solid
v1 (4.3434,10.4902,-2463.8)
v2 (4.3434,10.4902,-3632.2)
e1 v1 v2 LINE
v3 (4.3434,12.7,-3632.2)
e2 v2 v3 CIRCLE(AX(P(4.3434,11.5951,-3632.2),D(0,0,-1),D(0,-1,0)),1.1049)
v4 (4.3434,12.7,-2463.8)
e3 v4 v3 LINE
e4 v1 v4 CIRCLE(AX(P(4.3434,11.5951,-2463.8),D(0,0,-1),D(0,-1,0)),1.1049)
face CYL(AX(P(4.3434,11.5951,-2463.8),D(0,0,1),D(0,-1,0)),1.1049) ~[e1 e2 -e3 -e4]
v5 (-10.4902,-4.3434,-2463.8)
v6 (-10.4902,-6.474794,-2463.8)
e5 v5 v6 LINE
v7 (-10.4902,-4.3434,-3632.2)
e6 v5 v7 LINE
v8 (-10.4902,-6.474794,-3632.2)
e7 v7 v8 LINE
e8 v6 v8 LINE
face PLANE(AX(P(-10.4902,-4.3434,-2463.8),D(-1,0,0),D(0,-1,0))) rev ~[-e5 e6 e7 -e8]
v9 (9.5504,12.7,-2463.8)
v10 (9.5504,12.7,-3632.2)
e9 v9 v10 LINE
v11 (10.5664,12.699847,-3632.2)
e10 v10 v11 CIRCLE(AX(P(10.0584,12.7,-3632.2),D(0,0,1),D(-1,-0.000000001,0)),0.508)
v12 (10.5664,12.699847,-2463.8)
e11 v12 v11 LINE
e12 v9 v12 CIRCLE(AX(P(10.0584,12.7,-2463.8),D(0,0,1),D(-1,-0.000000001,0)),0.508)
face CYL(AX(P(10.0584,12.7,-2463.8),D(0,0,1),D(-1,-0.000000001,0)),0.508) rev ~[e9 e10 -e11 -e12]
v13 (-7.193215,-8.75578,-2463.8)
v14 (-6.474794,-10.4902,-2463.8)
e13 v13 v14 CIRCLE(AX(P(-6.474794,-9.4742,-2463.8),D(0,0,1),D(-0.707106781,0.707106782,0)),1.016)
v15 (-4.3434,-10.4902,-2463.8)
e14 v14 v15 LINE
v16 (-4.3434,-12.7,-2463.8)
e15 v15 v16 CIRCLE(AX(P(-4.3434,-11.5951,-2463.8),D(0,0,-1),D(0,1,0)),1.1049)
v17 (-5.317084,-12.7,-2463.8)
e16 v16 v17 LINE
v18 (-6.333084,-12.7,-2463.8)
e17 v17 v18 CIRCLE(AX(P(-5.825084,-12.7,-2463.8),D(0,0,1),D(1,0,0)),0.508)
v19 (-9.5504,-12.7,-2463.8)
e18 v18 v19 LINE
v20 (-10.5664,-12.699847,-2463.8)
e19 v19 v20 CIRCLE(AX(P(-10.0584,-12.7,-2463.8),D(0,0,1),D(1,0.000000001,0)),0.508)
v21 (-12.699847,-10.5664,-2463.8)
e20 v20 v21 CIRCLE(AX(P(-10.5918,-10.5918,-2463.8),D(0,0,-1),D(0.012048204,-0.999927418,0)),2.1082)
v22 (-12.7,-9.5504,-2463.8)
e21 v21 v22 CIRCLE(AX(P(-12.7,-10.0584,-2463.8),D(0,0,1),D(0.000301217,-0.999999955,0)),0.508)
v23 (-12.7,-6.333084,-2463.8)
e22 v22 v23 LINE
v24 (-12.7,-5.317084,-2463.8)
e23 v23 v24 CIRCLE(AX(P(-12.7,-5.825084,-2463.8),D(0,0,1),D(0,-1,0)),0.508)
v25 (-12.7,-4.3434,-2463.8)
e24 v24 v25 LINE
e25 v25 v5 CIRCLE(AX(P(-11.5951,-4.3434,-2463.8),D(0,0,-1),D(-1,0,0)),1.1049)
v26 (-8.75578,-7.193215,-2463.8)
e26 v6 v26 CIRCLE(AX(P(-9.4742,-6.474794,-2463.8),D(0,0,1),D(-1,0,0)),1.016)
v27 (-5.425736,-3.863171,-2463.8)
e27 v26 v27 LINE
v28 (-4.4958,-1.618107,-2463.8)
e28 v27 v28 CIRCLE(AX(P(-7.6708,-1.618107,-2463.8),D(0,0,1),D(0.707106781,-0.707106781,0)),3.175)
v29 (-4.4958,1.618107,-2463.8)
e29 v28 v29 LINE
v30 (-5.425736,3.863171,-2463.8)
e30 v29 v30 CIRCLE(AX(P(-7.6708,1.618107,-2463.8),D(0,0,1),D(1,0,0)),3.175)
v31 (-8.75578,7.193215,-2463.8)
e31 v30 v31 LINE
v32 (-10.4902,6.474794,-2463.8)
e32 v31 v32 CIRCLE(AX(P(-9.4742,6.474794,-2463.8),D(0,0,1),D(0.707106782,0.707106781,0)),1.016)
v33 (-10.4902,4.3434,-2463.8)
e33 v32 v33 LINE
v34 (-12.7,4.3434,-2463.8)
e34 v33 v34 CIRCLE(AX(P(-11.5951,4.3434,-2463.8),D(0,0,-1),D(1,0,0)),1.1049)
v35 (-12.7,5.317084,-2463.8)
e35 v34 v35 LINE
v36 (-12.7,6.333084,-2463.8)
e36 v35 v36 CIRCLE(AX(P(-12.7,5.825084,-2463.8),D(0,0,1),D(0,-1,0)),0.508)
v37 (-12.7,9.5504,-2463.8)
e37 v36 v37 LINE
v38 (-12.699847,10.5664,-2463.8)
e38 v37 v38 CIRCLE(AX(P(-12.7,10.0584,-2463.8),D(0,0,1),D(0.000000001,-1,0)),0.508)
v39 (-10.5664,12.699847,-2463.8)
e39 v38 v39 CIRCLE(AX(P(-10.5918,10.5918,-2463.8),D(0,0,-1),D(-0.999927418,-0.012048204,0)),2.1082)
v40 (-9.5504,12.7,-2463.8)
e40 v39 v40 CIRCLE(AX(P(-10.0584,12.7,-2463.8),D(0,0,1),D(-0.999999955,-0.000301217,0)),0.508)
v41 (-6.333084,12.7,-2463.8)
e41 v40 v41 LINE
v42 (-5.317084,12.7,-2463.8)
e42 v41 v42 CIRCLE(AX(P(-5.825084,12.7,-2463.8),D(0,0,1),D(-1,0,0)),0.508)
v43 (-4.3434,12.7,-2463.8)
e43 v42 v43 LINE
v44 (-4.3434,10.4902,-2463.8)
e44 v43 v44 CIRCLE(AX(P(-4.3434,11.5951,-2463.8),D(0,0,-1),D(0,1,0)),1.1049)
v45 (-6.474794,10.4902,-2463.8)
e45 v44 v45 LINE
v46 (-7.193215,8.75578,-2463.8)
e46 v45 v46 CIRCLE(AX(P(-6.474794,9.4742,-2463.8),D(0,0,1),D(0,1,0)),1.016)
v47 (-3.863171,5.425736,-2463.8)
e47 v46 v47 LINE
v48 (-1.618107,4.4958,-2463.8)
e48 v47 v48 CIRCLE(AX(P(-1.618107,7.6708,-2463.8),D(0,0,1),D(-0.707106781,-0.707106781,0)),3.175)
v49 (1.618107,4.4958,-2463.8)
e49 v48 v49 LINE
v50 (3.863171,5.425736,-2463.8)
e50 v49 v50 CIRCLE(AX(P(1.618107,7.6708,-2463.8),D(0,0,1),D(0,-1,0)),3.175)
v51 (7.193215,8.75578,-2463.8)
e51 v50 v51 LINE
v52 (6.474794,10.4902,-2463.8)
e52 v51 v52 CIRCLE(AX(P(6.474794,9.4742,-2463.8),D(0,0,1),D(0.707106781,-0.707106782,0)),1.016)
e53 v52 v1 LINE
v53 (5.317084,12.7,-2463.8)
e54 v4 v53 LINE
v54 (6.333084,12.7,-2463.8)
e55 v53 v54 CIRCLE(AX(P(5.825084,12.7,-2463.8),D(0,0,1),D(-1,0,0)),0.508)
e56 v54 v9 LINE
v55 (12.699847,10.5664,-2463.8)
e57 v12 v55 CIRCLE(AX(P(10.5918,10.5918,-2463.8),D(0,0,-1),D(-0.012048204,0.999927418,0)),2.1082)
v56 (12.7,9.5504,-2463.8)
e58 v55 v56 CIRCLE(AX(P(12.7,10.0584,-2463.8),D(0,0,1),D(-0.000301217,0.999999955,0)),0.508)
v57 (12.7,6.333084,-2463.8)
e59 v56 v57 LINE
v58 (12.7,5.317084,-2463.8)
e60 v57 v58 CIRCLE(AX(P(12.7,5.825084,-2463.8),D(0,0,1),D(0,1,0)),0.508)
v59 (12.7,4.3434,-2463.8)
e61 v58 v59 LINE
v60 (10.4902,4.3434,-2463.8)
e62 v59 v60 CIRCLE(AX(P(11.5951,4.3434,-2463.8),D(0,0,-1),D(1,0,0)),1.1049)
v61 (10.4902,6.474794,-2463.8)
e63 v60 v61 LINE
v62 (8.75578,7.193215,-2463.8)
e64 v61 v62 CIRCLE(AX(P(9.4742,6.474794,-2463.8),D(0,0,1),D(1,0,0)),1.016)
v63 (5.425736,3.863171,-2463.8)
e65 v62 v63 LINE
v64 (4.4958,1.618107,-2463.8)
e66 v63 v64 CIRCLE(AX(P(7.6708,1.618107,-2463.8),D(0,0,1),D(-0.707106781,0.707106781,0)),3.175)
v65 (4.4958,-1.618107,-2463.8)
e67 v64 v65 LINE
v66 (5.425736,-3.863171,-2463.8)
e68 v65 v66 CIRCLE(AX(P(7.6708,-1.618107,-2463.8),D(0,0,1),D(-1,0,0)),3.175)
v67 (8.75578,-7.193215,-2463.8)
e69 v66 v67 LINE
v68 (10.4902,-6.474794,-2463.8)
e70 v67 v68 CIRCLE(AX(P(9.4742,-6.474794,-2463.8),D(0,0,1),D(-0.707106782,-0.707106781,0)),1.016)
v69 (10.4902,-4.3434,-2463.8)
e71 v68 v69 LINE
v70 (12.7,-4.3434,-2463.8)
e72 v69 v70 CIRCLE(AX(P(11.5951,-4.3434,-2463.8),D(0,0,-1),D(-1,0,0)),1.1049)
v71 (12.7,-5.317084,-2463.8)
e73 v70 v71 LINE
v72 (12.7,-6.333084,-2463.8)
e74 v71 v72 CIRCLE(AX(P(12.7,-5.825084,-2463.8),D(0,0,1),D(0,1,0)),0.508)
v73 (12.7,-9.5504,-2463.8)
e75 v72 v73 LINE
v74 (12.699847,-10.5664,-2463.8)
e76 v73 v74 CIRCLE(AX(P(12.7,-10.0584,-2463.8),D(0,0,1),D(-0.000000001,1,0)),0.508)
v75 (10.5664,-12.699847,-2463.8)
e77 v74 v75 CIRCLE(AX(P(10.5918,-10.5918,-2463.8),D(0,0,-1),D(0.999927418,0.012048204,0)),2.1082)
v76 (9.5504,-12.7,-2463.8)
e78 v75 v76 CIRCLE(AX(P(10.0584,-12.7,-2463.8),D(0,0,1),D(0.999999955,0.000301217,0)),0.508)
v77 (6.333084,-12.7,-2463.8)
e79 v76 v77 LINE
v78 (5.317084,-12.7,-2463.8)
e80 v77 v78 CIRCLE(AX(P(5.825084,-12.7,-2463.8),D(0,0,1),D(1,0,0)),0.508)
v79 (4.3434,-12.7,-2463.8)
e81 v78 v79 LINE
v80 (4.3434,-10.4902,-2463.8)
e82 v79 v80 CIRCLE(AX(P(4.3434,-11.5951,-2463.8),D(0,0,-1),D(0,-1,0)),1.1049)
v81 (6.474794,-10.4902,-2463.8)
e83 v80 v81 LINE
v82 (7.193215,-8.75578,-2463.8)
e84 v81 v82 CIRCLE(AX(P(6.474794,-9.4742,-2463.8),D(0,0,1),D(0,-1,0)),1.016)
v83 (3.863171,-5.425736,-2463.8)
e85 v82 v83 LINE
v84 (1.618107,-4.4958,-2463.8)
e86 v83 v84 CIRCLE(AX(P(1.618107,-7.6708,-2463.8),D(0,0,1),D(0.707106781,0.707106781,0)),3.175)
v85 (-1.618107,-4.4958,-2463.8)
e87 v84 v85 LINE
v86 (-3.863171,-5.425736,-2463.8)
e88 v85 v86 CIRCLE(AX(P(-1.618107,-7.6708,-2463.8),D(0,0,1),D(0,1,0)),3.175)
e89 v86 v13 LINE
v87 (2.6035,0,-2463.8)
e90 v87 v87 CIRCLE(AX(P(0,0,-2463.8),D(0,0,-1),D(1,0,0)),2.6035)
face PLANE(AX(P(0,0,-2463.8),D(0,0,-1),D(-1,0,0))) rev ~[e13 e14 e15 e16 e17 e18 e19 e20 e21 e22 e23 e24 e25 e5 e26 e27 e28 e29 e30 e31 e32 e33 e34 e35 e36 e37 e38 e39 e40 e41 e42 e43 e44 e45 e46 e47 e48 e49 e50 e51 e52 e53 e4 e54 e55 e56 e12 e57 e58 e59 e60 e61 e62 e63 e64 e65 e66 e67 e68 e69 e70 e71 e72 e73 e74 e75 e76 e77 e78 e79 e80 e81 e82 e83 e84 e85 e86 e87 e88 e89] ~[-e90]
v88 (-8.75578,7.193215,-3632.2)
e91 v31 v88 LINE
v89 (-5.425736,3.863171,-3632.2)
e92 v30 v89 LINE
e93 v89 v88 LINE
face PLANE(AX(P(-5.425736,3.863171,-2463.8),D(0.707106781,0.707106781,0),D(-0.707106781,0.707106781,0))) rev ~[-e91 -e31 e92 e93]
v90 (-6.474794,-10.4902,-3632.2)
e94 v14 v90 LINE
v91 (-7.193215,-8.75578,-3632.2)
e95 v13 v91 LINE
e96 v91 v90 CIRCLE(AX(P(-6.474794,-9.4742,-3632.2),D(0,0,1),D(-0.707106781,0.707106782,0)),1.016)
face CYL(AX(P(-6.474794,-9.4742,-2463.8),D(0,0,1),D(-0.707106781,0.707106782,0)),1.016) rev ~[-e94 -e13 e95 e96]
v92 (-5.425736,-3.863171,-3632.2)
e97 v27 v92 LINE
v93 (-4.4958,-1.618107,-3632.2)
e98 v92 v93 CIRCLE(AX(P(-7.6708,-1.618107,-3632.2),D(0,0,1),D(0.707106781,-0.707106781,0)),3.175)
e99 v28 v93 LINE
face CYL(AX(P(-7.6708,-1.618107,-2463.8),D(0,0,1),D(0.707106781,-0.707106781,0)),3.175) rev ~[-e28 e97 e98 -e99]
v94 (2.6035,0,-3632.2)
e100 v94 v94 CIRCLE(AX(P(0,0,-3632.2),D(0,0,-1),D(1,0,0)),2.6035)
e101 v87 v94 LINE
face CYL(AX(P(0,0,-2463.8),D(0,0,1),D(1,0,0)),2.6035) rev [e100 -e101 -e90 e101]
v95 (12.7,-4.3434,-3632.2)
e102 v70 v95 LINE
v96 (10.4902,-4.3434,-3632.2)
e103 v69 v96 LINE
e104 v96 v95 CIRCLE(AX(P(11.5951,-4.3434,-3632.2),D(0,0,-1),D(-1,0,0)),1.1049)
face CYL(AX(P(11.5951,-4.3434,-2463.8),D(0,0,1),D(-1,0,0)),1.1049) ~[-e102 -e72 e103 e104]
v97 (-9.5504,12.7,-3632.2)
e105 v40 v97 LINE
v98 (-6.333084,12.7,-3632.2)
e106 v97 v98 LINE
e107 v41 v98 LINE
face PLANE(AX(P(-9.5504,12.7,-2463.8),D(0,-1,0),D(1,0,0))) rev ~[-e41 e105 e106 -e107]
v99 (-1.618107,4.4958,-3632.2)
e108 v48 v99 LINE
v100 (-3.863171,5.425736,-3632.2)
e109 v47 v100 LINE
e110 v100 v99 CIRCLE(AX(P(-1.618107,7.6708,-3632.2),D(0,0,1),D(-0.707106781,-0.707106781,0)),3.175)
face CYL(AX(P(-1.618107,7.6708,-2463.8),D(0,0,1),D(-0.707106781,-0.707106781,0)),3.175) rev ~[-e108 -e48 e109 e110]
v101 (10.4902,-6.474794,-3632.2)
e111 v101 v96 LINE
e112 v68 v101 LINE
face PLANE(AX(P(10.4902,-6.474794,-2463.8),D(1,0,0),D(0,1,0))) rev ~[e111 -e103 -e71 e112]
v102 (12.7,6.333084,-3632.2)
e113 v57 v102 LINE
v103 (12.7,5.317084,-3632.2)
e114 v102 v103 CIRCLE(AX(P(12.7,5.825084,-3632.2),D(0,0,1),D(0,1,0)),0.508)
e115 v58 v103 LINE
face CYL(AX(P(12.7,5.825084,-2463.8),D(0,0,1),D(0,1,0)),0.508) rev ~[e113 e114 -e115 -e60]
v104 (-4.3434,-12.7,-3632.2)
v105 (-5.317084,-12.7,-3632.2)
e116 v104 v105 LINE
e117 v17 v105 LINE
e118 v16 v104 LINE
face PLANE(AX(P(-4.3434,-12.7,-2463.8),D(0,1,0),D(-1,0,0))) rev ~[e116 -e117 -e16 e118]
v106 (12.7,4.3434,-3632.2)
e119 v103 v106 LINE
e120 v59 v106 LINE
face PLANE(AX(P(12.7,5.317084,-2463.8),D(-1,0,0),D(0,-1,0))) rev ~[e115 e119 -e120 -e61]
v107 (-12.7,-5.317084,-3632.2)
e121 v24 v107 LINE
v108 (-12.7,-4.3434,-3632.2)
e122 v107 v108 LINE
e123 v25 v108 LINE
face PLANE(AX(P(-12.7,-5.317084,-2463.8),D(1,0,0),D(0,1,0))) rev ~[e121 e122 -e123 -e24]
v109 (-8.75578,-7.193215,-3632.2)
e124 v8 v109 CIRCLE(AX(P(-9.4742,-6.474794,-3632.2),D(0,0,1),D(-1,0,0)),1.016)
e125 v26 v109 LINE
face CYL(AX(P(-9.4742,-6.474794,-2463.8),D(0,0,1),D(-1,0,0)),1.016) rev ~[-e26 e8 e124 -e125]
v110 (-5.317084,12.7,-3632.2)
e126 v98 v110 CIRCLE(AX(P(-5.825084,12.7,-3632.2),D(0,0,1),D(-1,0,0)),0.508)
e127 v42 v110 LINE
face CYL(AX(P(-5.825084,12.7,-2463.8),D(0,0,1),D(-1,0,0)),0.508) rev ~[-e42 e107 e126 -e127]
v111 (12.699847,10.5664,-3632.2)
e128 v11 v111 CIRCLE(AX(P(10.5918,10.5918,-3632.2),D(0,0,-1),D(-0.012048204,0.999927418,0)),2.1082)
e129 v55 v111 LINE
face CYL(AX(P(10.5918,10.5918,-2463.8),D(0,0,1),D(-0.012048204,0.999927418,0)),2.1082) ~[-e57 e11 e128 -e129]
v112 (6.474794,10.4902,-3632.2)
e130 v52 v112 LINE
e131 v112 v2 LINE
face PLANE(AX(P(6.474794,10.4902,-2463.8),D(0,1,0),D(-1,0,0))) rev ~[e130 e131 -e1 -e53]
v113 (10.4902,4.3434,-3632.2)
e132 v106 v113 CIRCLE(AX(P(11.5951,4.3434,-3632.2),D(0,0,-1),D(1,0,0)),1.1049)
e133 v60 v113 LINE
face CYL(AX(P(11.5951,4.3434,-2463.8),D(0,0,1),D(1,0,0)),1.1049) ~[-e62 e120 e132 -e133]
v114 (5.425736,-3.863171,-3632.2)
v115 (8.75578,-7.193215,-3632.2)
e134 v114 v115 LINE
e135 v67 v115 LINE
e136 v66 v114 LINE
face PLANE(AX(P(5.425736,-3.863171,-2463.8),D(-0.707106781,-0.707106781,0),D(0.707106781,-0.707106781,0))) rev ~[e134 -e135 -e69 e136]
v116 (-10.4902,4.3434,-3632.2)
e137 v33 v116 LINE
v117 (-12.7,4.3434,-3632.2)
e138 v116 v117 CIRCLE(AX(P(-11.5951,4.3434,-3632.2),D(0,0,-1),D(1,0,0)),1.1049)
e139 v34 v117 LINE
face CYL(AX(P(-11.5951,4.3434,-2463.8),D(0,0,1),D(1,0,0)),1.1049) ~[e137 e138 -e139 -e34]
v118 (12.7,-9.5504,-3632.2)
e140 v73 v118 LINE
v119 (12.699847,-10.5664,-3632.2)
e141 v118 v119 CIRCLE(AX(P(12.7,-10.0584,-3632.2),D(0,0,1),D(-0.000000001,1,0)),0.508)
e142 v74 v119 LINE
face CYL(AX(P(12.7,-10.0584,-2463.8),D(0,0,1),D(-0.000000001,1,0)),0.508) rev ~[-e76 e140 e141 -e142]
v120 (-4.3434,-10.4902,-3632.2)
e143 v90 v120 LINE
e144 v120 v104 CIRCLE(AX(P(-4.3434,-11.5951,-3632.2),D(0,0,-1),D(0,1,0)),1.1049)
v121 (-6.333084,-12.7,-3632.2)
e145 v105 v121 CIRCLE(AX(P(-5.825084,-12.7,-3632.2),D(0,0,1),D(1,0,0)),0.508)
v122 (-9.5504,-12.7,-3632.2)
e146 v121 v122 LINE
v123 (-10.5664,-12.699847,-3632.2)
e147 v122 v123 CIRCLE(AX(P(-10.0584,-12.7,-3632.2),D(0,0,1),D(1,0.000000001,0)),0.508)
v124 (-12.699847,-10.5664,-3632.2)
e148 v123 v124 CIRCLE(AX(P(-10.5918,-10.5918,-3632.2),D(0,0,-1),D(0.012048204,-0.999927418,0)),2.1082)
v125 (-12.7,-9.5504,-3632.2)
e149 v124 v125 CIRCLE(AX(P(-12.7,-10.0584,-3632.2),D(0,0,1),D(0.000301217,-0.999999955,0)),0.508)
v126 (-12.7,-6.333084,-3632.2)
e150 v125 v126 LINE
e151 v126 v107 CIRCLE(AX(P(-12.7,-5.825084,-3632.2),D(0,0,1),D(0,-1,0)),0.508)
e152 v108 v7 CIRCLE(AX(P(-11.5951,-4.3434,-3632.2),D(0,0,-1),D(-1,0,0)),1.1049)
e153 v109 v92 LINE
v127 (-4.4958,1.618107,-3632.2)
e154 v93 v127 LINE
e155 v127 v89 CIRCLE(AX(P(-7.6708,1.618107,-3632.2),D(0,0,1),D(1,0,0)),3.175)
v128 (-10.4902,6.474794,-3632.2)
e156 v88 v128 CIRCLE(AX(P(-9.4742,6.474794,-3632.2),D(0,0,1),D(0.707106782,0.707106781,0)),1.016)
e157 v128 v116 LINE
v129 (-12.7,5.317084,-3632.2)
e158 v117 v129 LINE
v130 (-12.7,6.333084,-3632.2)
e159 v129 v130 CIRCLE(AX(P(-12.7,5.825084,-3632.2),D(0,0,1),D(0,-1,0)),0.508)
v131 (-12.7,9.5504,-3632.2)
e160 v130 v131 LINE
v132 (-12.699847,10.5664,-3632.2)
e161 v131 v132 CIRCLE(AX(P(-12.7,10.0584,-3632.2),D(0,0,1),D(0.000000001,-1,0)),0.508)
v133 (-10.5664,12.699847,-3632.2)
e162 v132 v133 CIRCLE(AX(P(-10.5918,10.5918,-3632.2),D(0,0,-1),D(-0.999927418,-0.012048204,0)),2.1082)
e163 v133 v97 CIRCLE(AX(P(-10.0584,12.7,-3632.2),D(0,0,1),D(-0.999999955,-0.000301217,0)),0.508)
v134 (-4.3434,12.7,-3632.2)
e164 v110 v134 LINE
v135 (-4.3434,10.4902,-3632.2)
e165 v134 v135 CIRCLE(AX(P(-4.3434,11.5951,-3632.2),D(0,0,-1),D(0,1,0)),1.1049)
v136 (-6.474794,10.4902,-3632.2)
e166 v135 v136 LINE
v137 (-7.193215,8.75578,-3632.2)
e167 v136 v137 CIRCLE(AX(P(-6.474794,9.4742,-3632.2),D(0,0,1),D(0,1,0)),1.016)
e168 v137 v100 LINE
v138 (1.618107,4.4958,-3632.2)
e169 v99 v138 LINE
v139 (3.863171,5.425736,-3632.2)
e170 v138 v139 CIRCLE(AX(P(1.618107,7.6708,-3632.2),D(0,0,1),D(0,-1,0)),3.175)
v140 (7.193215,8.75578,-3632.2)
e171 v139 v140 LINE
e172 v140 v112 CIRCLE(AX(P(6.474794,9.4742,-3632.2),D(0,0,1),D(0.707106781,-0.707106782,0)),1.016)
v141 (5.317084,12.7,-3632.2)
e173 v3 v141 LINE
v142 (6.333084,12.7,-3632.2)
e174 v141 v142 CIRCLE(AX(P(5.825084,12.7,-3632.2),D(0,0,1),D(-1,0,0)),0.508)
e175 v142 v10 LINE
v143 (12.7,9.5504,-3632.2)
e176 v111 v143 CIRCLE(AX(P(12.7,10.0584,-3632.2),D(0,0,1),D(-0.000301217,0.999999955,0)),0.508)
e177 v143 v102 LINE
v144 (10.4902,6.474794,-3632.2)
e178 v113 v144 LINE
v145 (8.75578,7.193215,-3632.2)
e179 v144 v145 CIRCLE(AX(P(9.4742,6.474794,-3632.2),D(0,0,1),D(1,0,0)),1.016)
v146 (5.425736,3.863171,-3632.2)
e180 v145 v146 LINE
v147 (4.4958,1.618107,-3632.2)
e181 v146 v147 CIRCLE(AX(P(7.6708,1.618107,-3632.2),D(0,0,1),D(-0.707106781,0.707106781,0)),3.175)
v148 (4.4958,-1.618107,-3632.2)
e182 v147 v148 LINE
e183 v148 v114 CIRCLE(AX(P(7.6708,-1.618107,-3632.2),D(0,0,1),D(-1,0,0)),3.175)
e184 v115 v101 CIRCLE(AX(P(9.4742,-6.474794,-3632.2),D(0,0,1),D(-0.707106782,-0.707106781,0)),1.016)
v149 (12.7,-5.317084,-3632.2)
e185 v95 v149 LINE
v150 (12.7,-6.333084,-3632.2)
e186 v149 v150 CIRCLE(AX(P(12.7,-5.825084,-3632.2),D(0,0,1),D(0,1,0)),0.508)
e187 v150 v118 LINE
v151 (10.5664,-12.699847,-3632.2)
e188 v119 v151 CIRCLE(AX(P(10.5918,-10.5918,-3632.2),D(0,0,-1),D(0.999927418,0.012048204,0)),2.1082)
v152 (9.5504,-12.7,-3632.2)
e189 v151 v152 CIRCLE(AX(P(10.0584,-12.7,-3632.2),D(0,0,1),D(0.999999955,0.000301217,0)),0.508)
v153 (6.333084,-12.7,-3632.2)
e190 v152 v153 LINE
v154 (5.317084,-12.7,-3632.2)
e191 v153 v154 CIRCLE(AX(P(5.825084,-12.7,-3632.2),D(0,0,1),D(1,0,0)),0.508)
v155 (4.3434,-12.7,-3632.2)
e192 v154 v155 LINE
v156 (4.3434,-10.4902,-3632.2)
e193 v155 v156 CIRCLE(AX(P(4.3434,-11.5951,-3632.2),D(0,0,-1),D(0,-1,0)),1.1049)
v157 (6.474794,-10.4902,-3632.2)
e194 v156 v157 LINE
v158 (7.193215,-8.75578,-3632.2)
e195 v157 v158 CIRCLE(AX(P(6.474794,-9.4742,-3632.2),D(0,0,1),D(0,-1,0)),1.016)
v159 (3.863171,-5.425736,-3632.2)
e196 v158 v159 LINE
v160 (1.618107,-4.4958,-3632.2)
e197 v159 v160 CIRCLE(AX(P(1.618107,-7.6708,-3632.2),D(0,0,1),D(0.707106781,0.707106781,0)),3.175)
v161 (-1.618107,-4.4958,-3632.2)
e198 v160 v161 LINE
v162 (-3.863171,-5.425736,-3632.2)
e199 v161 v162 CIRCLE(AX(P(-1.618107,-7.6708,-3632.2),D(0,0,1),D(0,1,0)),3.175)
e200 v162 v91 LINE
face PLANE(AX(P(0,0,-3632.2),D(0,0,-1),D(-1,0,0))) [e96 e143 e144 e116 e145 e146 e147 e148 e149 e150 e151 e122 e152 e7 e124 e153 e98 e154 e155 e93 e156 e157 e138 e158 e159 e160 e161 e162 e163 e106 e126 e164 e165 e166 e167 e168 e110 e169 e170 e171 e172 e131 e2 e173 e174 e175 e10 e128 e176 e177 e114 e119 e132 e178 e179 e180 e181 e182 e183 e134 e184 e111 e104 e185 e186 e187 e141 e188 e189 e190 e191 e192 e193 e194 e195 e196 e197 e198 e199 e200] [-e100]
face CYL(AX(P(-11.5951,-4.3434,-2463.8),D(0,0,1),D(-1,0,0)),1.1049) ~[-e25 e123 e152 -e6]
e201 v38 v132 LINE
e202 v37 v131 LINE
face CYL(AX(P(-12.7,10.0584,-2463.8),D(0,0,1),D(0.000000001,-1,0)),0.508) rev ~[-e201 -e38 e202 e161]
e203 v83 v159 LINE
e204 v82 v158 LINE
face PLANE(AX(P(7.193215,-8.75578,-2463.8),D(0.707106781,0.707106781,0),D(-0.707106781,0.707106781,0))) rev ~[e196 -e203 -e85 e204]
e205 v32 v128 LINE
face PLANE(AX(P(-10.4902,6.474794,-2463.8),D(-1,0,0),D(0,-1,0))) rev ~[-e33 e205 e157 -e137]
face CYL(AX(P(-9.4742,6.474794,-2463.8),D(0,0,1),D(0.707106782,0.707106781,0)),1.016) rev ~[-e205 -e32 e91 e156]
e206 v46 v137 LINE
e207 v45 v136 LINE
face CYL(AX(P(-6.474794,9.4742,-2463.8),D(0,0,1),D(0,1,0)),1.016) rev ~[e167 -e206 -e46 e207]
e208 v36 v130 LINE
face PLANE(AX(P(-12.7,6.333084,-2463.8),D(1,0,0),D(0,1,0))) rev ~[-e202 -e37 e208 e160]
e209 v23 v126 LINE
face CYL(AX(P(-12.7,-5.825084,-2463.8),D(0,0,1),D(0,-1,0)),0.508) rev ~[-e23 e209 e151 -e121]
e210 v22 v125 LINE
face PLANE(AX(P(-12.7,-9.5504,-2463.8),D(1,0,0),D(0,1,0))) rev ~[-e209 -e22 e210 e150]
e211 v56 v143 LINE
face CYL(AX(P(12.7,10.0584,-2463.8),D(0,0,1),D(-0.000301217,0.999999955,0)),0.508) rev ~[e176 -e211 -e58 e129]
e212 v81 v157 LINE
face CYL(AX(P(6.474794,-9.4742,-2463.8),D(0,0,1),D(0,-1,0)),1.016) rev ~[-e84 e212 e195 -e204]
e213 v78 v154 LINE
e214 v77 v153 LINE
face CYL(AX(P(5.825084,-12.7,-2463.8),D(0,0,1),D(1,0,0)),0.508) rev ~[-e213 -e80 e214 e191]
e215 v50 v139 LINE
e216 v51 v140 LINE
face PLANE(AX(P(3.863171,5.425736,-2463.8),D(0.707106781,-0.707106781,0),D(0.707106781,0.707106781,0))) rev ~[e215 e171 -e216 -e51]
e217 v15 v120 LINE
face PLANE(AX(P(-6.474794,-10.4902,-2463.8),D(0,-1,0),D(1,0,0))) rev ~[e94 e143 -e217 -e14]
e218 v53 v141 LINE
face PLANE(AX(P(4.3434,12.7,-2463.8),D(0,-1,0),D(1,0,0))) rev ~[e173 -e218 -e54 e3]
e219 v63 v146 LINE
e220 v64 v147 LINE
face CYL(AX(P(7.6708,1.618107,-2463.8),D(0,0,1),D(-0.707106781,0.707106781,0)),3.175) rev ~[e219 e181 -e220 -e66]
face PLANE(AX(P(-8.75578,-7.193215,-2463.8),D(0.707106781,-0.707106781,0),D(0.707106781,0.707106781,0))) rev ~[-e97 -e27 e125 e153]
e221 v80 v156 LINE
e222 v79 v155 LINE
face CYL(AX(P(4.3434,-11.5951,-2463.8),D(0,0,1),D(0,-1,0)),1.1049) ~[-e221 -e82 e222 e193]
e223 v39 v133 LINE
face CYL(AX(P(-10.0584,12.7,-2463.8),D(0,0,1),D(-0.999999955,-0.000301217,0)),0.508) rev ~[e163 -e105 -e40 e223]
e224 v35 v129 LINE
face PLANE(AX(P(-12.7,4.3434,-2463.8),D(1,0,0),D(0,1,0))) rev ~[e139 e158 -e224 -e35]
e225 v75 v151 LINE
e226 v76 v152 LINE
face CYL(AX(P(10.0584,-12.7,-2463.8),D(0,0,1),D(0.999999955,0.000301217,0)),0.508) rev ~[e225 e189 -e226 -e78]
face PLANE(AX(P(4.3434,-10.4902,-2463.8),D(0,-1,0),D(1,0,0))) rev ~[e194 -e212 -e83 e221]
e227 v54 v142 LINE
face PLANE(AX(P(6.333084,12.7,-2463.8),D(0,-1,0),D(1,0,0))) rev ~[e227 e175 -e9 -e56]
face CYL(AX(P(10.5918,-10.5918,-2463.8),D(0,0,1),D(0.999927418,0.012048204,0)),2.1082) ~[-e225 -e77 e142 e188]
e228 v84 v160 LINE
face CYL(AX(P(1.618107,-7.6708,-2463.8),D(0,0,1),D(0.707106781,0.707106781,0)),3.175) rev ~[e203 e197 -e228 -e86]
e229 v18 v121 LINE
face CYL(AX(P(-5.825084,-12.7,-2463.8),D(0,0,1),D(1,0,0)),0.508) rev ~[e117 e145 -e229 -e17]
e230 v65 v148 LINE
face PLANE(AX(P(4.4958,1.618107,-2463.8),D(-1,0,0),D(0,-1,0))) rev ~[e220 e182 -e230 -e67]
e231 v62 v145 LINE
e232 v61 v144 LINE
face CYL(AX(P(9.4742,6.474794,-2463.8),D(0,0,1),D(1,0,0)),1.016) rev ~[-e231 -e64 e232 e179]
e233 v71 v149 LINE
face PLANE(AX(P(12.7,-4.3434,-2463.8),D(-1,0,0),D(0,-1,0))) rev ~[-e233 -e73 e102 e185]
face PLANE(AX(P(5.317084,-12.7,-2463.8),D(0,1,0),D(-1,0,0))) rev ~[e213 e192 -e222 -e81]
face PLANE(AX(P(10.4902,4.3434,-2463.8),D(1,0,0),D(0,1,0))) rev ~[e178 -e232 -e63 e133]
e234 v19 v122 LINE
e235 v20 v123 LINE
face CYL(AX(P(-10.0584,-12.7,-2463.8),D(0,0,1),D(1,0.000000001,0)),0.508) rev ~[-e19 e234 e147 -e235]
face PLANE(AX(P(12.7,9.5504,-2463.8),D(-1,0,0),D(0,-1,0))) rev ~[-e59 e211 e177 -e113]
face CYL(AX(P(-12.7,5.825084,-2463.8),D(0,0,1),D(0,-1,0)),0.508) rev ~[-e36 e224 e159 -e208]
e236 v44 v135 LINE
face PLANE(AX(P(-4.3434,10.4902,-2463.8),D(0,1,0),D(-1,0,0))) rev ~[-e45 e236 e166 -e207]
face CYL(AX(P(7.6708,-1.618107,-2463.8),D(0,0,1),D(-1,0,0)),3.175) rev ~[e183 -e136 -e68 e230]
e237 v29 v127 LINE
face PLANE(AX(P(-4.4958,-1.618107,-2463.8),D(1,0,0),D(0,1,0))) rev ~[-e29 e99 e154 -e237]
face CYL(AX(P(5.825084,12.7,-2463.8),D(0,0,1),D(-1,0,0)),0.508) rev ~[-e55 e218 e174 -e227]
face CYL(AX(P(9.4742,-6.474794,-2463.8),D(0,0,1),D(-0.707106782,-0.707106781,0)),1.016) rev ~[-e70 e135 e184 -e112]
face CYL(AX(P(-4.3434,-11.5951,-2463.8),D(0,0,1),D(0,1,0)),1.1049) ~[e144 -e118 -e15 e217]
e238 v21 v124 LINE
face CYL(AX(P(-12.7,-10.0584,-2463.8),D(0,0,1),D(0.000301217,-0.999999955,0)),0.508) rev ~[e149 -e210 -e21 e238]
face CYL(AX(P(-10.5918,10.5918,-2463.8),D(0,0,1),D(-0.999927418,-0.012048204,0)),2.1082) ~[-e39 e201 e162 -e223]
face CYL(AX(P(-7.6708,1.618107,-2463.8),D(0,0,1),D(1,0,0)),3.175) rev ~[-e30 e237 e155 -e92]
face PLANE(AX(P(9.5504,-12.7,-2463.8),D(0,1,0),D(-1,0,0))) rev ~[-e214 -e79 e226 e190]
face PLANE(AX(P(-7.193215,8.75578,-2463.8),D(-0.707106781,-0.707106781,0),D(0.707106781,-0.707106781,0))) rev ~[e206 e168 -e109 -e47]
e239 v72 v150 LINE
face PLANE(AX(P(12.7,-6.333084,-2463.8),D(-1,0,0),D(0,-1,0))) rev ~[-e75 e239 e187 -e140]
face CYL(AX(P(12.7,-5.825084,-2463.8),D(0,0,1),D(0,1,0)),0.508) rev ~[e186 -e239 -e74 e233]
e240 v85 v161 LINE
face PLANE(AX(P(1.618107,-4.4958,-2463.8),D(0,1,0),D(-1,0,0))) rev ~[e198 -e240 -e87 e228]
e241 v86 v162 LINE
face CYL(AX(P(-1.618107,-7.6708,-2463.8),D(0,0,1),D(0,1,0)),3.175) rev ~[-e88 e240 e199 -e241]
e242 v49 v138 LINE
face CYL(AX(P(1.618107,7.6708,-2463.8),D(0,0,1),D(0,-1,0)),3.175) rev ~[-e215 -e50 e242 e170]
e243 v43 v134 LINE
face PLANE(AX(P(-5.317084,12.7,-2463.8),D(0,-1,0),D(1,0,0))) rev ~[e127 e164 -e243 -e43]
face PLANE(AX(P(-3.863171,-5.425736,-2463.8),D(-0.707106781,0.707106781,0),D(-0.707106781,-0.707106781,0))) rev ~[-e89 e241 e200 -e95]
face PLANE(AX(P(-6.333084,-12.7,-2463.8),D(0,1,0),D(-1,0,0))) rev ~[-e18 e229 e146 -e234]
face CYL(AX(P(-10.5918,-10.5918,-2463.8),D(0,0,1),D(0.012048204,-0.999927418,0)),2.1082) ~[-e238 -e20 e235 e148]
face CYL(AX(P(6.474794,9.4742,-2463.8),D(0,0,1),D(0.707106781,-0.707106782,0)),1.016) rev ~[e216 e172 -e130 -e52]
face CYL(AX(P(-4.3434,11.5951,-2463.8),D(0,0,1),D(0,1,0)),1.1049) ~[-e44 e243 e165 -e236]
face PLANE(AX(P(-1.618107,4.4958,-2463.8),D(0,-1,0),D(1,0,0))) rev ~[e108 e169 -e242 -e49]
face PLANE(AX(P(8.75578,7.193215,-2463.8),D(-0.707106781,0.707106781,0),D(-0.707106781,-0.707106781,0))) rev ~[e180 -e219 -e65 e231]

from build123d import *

# Parameters (mm, degrees)
SKETCH1_R           = 2.6035
BOSS_EXTRUDE1_DEPTH = 1168.4


with BuildPart() as part:
    # Sketch1 → Boss-Extrude1 (new body)
    with BuildSketch(Plane(origin=(0, 0, -2463.8), x_dir=(-1, 0, 0), z_dir=(0, 0, -1))):
        with BuildLine():
            Line((12.7, -9.5504), (12.7, -6.3330836))
            ThreePointArc((12.7, -6.3330836), (12.192, -5.8250836), (12.7, -5.3170836))
            Line((12.7, -5.3170836), (12.7, -4.3434))
            ThreePointArc((12.7, -4.3434), (11.5951, -3.2385), (10.4902, -4.3434))
            Line((10.4902, -4.3434), (10.4902, -6.474794456))
            ThreePointArc((10.4902, -6.474794456), (9.863006367, -7.413456061), (8.75577951, -7.193214945))
            Line((8.75577951, -7.193214945), (5.42573597, -3.863171405))
            ThreePointArc((5.42573597, -3.863171405), (4.737482484, -2.833127272), (4.4958, -1.618107374))
            Line((4.4958, -1.618107374), (4.4958, 1.618107374))
            ThreePointArc((4.4958, 1.618107374), (4.737482484, 2.833127272), (5.42573597, 3.863171405))
            Line((5.42573597, 3.863171405), (8.75577951, 7.193214945))
            ThreePointArc((8.75577951, 7.193214945), (9.863006367, 7.413456061), (10.4902, 6.474794456))
            Line((10.4902, 6.474794456), (10.4902, 4.343399971))
            ThreePointArc((10.4902, 4.343399971), (11.5951, 3.238499971), (12.7, 4.343399971))
            Line((12.7, 4.343399971), (12.7, 5.3170836))
            ThreePointArc((12.7, 5.3170836), (12.192, 5.8250836), (12.7, 6.3330836))
            Line((12.7, 6.3330836), (12.7, 9.5504))
            ThreePointArc((12.7, 9.5504), (12.192000006, 10.058323491), (12.699846982, 10.566399977))
            ThreePointArc((12.699846982, 10.566399977), (12.082522516, 12.082522516), (10.566399977, 12.699846982))
            ThreePointArc((10.566399977, 12.699846982), (10.058323491, 12.192000006), (9.5504, 12.7))
            Line((9.5504, 12.7), (6.3330836, 12.7))
            ThreePointArc((6.3330836, 12.7), (5.8250836, 12.192), (5.3170836, 12.7))
            Line((5.3170836, 12.7), (4.3434, 12.7))
            ThreePointArc((4.3434, 12.7), (3.2385, 11.5951), (4.3434, 10.4902))
            Line((4.3434, 10.4902), (6.474794456, 10.4902))
            ThreePointArc((6.474794456, 10.4902), (7.413456061, 9.863006367), (7.193214945, 8.75577951))
            Line((7.193214945, 8.75577951), (3.863171405, 5.42573597))
            ThreePointArc((3.863171405, 5.42573597), (2.833127272, 4.737482484), (1.618107374, 4.4958))
            Line((1.618107374, 4.4958), (-1.618107374, 4.4958))
            ThreePointArc((-1.618107374, 4.4958), (-2.833127272, 4.737482484), (-3.863171405, 5.42573597))
            Line((-3.863171405, 5.42573597), (-7.193214945, 8.75577951))
            ThreePointArc((-7.193214945, 8.75577951), (-7.413456061, 9.863006367), (-6.474794456, 10.4902))
            Line((-6.474794456, 10.4902), (-4.343399971, 10.4902))
            ThreePointArc((-4.343399971, 10.4902), (-3.238499971, 11.5951), (-4.343399971, 12.7))
            Line((-4.343399971, 12.7), (-5.3170836, 12.7))
            ThreePointArc((-5.3170836, 12.7), (-5.8250836, 12.192), (-6.3330836, 12.7))
            Line((-6.3330836, 12.7), (-9.5504, 12.7))
            ThreePointArc((-9.5504, 12.7), (-10.058323491, 12.192000006), (-10.566399977, 12.699846982))
            ThreePointArc((-10.566399977, 12.699846982), (-12.082522516, 12.082522516), (-12.699846982, 10.566399977))
            ThreePointArc((-12.699846982, 10.566399977), (-12.192000006, 10.058323491), (-12.7, 9.5504))
            Line((-12.7, 9.5504), (-12.7, 6.3330836))
            ThreePointArc((-12.7, 6.3330836), (-12.192, 5.8250836), (-12.7, 5.3170836))
            Line((-12.7, 5.3170836), (-12.7, 4.3434))
            ThreePointArc((-12.7, 4.3434), (-11.5951, 3.2385), (-10.4902, 4.3434))
            Line((-10.4902, 4.3434), (-10.4902, 6.474794456))
            ThreePointArc((-10.4902, 6.474794456), (-9.863006367, 7.413456061), (-8.75577951, 7.193214945))
            Line((-8.75577951, 7.193214945), (-5.42573597, 3.863171405))
            ThreePointArc((-5.42573597, 3.863171405), (-4.737482484, 2.833127272), (-4.4958, 1.618107374))
            Line((-4.4958, 1.618107374), (-4.4958, -1.618107374))
            ThreePointArc((-4.4958, -1.618107374), (-4.737482484, -2.833127272), (-5.42573597, -3.863171405))
            Line((-5.42573597, -3.863171405), (-8.75577951, -7.193214945))
            ThreePointArc((-8.75577951, -7.193214945), (-9.863006367, -7.413456061), (-10.4902, -6.474794456))
            Line((-10.4902, -6.474794456), (-10.4902, -4.343399971))
            ThreePointArc((-10.4902, -4.343399971), (-11.5951, -3.238499971), (-12.7, -4.343399971))
            Line((-12.7, -4.343399971), (-12.7, -5.3170836))
            ThreePointArc((-12.7, -5.3170836), (-12.192, -5.8250836), (-12.7, -6.3330836))
            Line((-12.7, -6.3330836), (-12.7, -9.5504))
            ThreePointArc((-12.7, -9.5504), (-12.192000006, -10.058323491), (-12.699846982, -10.566399977))
            ThreePointArc((-12.699846982, -10.566399977), (-12.082522516, -12.082522516), (-10.566399977, -12.699846982))
            ThreePointArc((-10.566399977, -12.699846982), (-10.058323491, -12.192000006), (-9.5504, -12.7))
            Line((-9.5504, -12.7), (-6.3330836, -12.7))
            ThreePointArc((-6.3330836, -12.7), (-5.8250836, -12.192), (-5.3170836, -12.7))
            Line((-5.3170836, -12.7), (-4.3434, -12.7))
            ThreePointArc((-4.3434, -12.7), (-3.2385, -11.5951), (-4.3434, -10.4902))
            Line((-4.3434, -10.4902), (-6.474794456, -10.4902))
            ThreePointArc((-6.474794456, -10.4902), (-7.413456061, -9.863006367), (-7.193214945, -8.75577951))
            Line((-7.193214945, -8.75577951), (-3.863171405, -5.42573597))
            ThreePointArc((-3.863171405, -5.42573597), (-2.833127272, -4.737482484), (-1.618107374, -4.4958))
            Line((-1.618107374, -4.4958), (1.618107374, -4.4958))
            ThreePointArc((1.618107374, -4.4958), (2.833127272, -4.737482484), (3.863171405, -5.42573597))
            Line((3.863171405, -5.42573597), (7.193214945, -8.75577951))
            ThreePointArc((7.193214945, -8.75577951), (7.413456061, -9.863006367), (6.474794456, -10.4902))
            Line((6.474794456, -10.4902), (4.343399971, -10.4902))
            ThreePointArc((4.343399971, -10.4902), (3.238499971, -11.5951), (4.343399971, -12.7))
            Line((4.343399971, -12.7), (5.3170836, -12.7))
            ThreePointArc((5.3170836, -12.7), (5.8250836, -12.192), (6.3330836, -12.7))
            Line((6.3330836, -12.7), (9.5504, -12.7))
            ThreePointArc((9.5504, -12.7), (10.058323491, -12.192000006), (10.566399977, -12.699846982))
            ThreePointArc((10.566399977, -12.699846982), (12.082522516, -12.082522516), (12.699846982, -10.566399977))
            ThreePointArc((12.699846982, -10.566399977), (12.192000006, -10.058323491), (12.7, -9.5504))
        make_face()
        with Locations(Location((0, 0, 0), (0, 0, 180))):
            Circle(SKETCH1_R, mode=Mode.SUBTRACT)
    extrude(amount=BOSS_EXTRUDE1_DEPTH)


solid = part.part
